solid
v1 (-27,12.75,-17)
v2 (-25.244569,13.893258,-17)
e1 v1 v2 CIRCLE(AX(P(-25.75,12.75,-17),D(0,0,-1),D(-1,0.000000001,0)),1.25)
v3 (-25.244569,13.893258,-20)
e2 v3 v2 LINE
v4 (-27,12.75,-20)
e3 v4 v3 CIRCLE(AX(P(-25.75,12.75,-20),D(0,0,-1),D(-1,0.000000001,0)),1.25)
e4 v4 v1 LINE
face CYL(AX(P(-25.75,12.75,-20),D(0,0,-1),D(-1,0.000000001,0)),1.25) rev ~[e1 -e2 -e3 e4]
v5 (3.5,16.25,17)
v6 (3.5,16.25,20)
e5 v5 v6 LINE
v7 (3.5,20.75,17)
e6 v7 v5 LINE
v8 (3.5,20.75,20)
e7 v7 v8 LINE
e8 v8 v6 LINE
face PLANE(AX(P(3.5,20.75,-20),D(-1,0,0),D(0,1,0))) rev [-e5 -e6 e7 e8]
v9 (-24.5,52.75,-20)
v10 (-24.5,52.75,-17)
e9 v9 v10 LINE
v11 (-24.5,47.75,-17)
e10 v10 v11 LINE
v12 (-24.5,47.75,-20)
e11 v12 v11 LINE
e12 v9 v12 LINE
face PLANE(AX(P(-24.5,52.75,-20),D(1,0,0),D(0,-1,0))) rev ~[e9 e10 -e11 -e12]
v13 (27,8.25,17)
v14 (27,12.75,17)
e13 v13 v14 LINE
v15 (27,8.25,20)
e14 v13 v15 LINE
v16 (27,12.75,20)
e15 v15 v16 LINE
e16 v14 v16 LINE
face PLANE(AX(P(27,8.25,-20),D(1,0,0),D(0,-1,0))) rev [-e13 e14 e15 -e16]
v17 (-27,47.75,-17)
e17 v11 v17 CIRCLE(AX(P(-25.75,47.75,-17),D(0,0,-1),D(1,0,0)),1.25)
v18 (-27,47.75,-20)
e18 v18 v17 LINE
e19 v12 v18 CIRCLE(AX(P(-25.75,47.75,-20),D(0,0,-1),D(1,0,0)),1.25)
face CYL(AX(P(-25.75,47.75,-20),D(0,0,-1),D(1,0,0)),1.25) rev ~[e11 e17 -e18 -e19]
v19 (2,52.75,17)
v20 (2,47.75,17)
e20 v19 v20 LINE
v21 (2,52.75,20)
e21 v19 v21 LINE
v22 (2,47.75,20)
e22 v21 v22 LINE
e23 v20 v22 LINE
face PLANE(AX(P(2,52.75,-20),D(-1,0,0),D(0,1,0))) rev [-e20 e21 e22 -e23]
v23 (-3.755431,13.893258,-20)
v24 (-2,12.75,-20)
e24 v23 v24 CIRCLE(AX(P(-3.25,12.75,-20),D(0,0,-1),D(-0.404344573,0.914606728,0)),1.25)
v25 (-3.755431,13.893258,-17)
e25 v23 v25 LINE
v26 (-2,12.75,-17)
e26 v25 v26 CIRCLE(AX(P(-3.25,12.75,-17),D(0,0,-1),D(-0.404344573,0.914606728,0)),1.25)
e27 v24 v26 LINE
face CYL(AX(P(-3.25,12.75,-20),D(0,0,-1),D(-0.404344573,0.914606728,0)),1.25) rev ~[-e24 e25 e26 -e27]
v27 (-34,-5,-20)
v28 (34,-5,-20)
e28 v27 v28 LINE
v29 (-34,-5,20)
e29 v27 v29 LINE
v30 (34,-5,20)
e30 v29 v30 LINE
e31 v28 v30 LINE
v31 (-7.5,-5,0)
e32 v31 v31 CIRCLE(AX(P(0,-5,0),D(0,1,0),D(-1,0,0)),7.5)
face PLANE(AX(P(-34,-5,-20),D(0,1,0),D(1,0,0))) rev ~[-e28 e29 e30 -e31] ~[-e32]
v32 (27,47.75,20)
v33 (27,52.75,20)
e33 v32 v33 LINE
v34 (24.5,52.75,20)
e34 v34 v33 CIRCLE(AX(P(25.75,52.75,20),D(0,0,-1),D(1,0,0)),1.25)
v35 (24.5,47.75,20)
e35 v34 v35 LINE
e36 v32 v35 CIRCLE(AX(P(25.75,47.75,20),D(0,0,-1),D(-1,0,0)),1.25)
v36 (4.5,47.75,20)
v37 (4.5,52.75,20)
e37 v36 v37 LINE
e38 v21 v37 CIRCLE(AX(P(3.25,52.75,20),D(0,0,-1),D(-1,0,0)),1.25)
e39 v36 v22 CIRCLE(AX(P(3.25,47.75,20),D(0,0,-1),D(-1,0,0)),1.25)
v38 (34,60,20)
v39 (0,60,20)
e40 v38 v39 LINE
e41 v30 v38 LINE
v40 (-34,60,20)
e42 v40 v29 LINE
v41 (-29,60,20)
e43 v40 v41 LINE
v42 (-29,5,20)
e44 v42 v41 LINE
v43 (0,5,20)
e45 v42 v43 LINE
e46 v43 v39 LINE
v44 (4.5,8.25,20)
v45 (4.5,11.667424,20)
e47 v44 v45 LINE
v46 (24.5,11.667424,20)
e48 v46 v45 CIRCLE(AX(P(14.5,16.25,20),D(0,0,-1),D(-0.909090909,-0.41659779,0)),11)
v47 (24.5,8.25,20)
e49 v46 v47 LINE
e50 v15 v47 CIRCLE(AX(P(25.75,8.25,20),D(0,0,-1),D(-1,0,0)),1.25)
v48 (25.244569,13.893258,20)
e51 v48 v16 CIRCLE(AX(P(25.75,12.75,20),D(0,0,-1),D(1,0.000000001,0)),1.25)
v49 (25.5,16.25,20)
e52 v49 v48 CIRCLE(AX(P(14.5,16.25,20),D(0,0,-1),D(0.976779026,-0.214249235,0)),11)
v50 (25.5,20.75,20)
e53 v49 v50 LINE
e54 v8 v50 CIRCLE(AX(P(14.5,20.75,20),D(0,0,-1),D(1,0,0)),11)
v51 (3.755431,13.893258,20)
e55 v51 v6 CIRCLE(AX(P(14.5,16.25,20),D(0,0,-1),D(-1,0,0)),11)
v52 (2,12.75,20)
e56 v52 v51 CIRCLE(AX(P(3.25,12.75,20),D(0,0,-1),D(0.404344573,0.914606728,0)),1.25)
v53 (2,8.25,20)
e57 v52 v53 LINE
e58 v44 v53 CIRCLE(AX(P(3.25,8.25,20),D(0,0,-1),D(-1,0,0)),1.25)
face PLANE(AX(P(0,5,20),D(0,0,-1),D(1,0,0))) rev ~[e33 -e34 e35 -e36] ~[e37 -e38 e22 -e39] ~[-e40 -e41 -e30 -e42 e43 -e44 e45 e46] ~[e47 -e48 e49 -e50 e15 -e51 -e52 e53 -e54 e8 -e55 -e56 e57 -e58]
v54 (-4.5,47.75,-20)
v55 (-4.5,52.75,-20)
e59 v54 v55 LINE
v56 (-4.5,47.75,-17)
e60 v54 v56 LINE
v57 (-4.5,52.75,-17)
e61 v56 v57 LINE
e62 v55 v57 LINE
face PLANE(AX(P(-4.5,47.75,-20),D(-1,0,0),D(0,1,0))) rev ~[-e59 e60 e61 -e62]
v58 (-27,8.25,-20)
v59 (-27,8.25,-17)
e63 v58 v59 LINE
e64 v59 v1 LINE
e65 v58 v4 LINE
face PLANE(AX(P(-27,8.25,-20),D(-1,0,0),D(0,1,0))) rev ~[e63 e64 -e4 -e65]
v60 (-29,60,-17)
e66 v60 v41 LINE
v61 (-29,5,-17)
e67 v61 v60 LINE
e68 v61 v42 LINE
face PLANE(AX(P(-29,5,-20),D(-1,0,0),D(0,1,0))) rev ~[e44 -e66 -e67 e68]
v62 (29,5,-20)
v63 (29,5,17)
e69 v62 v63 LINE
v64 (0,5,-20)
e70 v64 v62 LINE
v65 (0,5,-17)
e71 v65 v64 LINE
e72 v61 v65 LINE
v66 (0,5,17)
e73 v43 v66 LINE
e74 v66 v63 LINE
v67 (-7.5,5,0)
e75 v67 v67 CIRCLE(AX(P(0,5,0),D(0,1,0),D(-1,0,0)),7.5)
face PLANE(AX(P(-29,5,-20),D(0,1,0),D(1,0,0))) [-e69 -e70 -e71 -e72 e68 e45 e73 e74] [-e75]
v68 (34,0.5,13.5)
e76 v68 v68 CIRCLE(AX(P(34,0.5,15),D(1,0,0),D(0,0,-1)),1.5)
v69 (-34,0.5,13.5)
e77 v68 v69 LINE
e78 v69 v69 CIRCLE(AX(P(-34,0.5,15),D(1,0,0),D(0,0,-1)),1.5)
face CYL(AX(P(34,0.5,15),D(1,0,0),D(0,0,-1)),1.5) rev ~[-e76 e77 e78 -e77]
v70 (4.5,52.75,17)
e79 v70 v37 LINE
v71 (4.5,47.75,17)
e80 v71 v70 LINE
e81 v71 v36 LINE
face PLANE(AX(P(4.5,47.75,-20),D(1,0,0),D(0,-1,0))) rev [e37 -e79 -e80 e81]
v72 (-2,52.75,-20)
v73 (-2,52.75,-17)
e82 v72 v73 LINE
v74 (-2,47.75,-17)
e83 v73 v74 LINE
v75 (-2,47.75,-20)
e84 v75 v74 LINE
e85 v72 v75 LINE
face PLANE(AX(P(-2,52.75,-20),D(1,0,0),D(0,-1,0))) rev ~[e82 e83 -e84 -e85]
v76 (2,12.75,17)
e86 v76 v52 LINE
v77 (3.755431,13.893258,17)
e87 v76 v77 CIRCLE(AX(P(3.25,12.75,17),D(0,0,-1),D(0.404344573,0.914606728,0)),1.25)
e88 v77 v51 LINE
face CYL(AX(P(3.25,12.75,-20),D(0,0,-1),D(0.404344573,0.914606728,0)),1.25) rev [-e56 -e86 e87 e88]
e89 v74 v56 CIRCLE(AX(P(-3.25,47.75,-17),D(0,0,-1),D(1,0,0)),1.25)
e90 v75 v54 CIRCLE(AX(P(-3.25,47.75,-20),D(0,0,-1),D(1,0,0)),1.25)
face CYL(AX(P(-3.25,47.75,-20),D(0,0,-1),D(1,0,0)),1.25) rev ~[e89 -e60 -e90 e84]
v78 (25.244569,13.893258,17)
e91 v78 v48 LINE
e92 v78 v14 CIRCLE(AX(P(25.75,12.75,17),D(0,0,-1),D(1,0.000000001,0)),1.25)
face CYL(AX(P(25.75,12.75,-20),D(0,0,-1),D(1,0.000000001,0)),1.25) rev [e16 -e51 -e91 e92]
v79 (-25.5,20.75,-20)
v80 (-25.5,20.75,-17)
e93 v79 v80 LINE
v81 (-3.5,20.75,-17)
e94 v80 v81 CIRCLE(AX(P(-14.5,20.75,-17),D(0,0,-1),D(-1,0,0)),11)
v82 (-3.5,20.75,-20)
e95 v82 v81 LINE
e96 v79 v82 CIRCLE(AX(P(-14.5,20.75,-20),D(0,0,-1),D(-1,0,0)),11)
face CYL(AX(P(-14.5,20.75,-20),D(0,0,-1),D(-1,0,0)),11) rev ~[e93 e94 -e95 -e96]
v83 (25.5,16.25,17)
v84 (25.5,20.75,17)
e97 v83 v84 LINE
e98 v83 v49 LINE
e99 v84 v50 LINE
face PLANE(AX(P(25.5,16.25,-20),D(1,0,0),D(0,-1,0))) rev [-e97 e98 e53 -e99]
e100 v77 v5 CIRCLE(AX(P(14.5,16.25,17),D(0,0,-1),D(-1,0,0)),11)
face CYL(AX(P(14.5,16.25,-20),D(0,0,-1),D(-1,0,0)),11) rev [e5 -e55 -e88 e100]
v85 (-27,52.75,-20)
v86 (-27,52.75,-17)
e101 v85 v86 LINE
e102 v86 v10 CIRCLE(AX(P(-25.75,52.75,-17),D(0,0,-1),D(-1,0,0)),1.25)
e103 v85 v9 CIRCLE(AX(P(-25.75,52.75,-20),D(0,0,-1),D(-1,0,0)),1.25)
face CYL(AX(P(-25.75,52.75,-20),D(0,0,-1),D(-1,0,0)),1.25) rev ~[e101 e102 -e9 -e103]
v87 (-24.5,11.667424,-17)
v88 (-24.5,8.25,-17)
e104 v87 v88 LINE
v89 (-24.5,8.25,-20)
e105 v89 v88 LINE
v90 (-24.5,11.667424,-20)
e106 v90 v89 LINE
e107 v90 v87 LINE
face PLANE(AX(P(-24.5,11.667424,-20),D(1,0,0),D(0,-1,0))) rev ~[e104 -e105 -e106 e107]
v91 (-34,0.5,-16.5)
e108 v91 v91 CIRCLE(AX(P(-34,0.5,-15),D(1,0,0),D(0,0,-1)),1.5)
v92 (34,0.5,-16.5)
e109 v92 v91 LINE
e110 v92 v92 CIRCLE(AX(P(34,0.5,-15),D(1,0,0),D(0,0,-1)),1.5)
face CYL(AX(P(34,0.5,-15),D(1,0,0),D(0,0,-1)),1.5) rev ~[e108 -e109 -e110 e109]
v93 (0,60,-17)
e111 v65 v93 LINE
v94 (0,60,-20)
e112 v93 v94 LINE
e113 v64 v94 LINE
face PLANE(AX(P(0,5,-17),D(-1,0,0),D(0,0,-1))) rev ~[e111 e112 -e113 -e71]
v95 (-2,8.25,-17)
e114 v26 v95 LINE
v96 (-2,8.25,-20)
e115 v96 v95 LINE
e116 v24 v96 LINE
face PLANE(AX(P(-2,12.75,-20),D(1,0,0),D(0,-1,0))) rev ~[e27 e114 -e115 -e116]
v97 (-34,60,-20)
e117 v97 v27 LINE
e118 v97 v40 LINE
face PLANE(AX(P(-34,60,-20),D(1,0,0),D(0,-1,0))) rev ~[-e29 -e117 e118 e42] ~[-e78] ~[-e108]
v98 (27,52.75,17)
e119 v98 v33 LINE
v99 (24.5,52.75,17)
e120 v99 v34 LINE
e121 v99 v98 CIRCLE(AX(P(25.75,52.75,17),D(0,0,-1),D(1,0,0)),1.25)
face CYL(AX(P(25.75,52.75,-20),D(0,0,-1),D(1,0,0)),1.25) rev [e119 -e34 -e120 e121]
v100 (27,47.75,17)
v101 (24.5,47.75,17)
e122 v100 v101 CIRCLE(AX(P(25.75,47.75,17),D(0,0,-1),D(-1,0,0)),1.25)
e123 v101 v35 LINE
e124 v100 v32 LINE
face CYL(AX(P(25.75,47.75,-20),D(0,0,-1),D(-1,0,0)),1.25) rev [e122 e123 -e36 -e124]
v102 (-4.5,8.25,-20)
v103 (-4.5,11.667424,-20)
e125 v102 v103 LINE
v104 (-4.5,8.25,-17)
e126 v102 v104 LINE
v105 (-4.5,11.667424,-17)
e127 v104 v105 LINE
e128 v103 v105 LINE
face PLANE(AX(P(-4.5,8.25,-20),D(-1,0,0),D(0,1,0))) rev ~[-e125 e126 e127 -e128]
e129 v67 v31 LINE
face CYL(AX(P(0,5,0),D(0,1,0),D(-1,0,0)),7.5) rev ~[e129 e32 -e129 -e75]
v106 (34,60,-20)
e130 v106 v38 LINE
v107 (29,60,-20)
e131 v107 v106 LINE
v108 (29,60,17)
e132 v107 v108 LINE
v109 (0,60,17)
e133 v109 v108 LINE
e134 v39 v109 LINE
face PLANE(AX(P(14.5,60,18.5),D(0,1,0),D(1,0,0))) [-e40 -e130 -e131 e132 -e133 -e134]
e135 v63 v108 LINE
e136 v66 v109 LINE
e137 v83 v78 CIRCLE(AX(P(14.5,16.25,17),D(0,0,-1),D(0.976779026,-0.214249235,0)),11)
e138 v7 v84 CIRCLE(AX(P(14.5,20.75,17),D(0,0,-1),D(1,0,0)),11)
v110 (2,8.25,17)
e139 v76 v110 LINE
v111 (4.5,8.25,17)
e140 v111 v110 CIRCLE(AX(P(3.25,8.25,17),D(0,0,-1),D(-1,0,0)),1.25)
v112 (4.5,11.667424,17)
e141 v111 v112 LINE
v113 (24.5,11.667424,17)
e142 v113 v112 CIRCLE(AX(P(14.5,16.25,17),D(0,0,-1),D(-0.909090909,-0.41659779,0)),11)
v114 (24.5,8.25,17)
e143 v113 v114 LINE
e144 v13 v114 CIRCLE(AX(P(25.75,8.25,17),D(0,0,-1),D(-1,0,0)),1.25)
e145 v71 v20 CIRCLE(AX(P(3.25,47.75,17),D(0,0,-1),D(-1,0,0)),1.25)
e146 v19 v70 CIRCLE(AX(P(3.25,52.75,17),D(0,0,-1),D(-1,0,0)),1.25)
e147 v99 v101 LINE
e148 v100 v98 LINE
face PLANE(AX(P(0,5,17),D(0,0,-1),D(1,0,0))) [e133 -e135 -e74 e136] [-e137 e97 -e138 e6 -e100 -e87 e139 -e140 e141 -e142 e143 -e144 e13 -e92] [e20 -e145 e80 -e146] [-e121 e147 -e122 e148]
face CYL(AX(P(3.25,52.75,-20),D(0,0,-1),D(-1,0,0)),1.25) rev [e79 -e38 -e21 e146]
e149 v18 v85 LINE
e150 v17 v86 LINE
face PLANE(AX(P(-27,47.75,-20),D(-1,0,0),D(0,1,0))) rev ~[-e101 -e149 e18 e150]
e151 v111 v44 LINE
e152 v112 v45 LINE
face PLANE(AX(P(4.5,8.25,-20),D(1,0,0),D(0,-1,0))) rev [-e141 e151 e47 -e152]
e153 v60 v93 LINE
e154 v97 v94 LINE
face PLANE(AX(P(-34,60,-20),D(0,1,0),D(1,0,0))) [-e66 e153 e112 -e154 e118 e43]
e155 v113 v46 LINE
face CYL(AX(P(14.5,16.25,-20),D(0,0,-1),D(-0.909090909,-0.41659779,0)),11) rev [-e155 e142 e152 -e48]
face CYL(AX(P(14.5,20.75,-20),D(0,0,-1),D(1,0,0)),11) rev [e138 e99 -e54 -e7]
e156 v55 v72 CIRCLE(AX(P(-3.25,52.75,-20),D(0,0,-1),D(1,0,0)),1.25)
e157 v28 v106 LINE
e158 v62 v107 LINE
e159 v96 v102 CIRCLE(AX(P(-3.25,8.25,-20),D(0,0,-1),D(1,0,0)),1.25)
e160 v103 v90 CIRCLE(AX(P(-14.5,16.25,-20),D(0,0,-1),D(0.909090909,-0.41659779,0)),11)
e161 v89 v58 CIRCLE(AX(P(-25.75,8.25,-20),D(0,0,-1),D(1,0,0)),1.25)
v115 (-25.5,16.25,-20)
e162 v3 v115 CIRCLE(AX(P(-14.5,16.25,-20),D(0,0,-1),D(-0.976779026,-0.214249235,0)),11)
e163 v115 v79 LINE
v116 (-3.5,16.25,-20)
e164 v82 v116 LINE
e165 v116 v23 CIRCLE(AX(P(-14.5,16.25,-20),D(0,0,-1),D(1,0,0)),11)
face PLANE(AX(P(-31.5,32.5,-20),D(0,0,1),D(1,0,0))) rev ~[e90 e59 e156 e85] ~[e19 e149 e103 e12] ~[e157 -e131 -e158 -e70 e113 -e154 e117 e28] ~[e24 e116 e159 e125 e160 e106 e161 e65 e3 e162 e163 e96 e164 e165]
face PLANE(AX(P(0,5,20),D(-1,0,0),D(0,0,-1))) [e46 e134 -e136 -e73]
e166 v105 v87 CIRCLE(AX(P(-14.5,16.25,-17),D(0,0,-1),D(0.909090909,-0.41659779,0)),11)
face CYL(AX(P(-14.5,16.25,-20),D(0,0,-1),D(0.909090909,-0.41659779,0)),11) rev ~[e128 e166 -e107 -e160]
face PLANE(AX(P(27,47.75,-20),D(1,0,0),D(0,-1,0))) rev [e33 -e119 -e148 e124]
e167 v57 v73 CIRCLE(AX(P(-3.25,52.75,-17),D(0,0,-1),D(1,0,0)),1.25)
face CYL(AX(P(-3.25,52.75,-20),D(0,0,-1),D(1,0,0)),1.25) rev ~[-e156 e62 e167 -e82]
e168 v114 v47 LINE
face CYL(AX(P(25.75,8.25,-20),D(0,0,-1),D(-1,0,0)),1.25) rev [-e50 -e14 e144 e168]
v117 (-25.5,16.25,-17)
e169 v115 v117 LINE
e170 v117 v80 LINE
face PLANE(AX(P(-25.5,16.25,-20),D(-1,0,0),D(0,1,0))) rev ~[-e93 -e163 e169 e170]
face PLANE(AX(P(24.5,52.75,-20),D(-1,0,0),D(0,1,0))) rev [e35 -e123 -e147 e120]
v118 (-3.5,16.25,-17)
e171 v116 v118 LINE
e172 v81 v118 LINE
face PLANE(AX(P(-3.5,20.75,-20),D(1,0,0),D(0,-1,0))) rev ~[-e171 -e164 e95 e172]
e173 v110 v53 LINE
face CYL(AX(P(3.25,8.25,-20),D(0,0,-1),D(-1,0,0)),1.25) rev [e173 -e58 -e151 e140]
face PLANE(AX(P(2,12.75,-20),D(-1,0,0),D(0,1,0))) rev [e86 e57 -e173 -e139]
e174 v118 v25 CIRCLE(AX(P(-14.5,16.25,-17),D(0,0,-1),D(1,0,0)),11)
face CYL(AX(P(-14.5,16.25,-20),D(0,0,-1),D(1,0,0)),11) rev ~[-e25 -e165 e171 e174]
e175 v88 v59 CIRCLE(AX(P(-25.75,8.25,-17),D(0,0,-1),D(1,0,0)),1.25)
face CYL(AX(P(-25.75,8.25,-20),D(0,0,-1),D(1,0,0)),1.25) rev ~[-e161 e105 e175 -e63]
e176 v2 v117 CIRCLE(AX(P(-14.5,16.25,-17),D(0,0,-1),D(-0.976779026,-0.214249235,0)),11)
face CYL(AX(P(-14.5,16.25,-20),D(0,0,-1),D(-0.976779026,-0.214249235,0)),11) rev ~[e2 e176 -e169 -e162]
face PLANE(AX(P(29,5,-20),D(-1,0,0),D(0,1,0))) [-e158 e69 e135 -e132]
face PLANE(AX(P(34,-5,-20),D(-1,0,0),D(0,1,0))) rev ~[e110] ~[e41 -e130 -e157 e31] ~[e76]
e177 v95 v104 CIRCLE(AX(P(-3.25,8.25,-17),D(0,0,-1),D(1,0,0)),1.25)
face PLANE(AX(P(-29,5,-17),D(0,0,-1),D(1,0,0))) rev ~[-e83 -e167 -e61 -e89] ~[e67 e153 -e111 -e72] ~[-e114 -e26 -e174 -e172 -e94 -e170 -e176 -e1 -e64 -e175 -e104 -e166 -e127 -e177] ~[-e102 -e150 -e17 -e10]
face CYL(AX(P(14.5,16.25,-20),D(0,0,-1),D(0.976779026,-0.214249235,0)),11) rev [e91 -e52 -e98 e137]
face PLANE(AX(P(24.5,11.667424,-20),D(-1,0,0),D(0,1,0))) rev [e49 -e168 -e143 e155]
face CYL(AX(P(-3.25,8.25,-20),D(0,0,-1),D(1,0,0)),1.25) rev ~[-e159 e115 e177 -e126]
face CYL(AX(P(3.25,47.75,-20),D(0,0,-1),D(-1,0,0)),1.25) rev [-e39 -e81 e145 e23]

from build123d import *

# Parameters (mm, degrees)
BOSS_EXTRUDE1_DEPTH      = 20
BOSS_EXTRUDE1_DEPTH_BACK = 20
SKETCH2_W                = 29
SKETCH2_H                = 3
BOSS_EXTRUDE2_DEPTH      = 55
SKETCH4_R                = 7.5
CUT_EXTRUDE2_DEPTH       = 12
SKETCH5_R                = 1.5
CUT_EXTRUDE3_DEPTH       = 93.86549413
CUT_EXTRUDE1_DEPTH       = 63


with BuildPart() as part:
    # Sketch1 → Boss-Extrude1 (new, two sides: drawn at the far end of the back side and taken through both)
    with BuildSketch(Plane.XY.offset(-BOSS_EXTRUDE1_DEPTH_BACK)):
        Polygon((-34, -5), (34, -5), (34, 60), (29, 60), (29, 5), (-29, 5), (-29, 60), (-34, 60), align=None)
    extrude(amount=BOSS_EXTRUDE1_DEPTH + BOSS_EXTRUDE1_DEPTH_BACK)

    # Sketch2 → Boss-Extrude2 (add)
    with BuildSketch(Plane(origin=(0, 5, 0), x_dir=(1, 0, 0), z_dir=(0, 1, 0))):
        with Locations((14.5, -18.5)):
            Rectangle(SKETCH2_W, SKETCH2_H)
        with Locations((-14.5, 18.5)):
            Rectangle(SKETCH2_W, SKETCH2_H)
    extrude(amount=BOSS_EXTRUDE2_DEPTH)

    # Sketch4 → Cut-Extrude2 (cut)
    with BuildSketch(Plane(origin=(0, 5, 0), x_dir=(1, 0, 0), z_dir=(0, 1, 0))):
        Circle(SKETCH4_R)
    extrude(amount=-CUT_EXTRUDE2_DEPTH, mode=Mode.SUBTRACT)

    # Sketch5 → Cut-Extrude3 (cut, through all)
    with BuildSketch(Plane(origin=(34, 0, 0), x_dir=(0, 0, -1), z_dir=(1, 0, 0))):
        with Locations((-15, 0.5)):
            Circle(SKETCH5_R)
        with Locations((15, 0.5)):
            Circle(SKETCH5_R)
    extrude(amount=-CUT_EXTRUDE3_DEPTH, mode=Mode.SUBTRACT)

    # Sketch3 → Cut-Extrude1 (cut)
    with BuildSketch(Plane(origin=(0, 0, -20), x_dir=(-1, 0, 0), z_dir=(0, 0, -1))):
        with BuildLine():
            ThreePointArc((3.755430717, 13.893258409), (2.567830079, 13.797446513), (2, 12.75))
            Line((2, 12.75), (2, 8.25))
            ThreePointArc((2, 8.25), (3.25, 7), (4.5, 8.25))
            Line((4.5, 8.25), (4.5, 11.667424305))
            ThreePointArc((4.5, 11.667424305), (14.5, 5.25), (24.5, 11.667424305))
            Line((24.5, 11.667424305), (24.5, 8.25))
            ThreePointArc((24.5, 8.25), (25.75, 7), (27, 8.25))
            Line((27, 8.25), (27, 12.75))
            ThreePointArc((27, 12.75), (26.432169921, 13.797446513), (25.244569283, 13.893258409))
            ThreePointArc((25.244569283, 13.893258409), (25.435955882, 15.064728325), (25.5, 16.25))
            Line((25.5, 16.25), (25.5, 20.75))
            ThreePointArc((25.5, 20.75), (14.5, 31.75), (3.5, 20.75))
            Line((3.5, 20.75), (3.5, 16.25))
            ThreePointArc((3.5, 16.25), (3.564044118, 15.064728325), (3.755430717, 13.893258409))
        make_face()
        with BuildLine():
            ThreePointArc((4.5, 52.75), (3.25, 54), (2, 52.75))
            Line((2, 52.75), (2, 47.75))
            ThreePointArc((2, 47.75), (3.25, 46.5), (4.5, 47.75))
            Line((4.5, 47.75), (4.5, 52.75))
        make_face()
        with BuildLine():
            ThreePointArc((27, 52.75), (25.75, 54), (24.5, 52.75))
            Line((24.5, 52.75), (24.5, 47.75))
            ThreePointArc((24.5, 47.75), (25.75, 46.5), (27, 47.75))
            Line((27, 47.75), (27, 52.75))
        make_face()
    cut_extrude1 = extrude(amount=-CUT_EXTRUDE1_DEPTH, mode=Mode.SUBTRACT)

    # Mirror4: Cut-Extrude1 across plane
    add(cut_extrude1.mirror(Plane(origin=(0, 0, 0), x_dir=(0, 0, 1), z_dir=(1, 0, 0))), mode=Mode.SUBTRACT)


solid = part.part
